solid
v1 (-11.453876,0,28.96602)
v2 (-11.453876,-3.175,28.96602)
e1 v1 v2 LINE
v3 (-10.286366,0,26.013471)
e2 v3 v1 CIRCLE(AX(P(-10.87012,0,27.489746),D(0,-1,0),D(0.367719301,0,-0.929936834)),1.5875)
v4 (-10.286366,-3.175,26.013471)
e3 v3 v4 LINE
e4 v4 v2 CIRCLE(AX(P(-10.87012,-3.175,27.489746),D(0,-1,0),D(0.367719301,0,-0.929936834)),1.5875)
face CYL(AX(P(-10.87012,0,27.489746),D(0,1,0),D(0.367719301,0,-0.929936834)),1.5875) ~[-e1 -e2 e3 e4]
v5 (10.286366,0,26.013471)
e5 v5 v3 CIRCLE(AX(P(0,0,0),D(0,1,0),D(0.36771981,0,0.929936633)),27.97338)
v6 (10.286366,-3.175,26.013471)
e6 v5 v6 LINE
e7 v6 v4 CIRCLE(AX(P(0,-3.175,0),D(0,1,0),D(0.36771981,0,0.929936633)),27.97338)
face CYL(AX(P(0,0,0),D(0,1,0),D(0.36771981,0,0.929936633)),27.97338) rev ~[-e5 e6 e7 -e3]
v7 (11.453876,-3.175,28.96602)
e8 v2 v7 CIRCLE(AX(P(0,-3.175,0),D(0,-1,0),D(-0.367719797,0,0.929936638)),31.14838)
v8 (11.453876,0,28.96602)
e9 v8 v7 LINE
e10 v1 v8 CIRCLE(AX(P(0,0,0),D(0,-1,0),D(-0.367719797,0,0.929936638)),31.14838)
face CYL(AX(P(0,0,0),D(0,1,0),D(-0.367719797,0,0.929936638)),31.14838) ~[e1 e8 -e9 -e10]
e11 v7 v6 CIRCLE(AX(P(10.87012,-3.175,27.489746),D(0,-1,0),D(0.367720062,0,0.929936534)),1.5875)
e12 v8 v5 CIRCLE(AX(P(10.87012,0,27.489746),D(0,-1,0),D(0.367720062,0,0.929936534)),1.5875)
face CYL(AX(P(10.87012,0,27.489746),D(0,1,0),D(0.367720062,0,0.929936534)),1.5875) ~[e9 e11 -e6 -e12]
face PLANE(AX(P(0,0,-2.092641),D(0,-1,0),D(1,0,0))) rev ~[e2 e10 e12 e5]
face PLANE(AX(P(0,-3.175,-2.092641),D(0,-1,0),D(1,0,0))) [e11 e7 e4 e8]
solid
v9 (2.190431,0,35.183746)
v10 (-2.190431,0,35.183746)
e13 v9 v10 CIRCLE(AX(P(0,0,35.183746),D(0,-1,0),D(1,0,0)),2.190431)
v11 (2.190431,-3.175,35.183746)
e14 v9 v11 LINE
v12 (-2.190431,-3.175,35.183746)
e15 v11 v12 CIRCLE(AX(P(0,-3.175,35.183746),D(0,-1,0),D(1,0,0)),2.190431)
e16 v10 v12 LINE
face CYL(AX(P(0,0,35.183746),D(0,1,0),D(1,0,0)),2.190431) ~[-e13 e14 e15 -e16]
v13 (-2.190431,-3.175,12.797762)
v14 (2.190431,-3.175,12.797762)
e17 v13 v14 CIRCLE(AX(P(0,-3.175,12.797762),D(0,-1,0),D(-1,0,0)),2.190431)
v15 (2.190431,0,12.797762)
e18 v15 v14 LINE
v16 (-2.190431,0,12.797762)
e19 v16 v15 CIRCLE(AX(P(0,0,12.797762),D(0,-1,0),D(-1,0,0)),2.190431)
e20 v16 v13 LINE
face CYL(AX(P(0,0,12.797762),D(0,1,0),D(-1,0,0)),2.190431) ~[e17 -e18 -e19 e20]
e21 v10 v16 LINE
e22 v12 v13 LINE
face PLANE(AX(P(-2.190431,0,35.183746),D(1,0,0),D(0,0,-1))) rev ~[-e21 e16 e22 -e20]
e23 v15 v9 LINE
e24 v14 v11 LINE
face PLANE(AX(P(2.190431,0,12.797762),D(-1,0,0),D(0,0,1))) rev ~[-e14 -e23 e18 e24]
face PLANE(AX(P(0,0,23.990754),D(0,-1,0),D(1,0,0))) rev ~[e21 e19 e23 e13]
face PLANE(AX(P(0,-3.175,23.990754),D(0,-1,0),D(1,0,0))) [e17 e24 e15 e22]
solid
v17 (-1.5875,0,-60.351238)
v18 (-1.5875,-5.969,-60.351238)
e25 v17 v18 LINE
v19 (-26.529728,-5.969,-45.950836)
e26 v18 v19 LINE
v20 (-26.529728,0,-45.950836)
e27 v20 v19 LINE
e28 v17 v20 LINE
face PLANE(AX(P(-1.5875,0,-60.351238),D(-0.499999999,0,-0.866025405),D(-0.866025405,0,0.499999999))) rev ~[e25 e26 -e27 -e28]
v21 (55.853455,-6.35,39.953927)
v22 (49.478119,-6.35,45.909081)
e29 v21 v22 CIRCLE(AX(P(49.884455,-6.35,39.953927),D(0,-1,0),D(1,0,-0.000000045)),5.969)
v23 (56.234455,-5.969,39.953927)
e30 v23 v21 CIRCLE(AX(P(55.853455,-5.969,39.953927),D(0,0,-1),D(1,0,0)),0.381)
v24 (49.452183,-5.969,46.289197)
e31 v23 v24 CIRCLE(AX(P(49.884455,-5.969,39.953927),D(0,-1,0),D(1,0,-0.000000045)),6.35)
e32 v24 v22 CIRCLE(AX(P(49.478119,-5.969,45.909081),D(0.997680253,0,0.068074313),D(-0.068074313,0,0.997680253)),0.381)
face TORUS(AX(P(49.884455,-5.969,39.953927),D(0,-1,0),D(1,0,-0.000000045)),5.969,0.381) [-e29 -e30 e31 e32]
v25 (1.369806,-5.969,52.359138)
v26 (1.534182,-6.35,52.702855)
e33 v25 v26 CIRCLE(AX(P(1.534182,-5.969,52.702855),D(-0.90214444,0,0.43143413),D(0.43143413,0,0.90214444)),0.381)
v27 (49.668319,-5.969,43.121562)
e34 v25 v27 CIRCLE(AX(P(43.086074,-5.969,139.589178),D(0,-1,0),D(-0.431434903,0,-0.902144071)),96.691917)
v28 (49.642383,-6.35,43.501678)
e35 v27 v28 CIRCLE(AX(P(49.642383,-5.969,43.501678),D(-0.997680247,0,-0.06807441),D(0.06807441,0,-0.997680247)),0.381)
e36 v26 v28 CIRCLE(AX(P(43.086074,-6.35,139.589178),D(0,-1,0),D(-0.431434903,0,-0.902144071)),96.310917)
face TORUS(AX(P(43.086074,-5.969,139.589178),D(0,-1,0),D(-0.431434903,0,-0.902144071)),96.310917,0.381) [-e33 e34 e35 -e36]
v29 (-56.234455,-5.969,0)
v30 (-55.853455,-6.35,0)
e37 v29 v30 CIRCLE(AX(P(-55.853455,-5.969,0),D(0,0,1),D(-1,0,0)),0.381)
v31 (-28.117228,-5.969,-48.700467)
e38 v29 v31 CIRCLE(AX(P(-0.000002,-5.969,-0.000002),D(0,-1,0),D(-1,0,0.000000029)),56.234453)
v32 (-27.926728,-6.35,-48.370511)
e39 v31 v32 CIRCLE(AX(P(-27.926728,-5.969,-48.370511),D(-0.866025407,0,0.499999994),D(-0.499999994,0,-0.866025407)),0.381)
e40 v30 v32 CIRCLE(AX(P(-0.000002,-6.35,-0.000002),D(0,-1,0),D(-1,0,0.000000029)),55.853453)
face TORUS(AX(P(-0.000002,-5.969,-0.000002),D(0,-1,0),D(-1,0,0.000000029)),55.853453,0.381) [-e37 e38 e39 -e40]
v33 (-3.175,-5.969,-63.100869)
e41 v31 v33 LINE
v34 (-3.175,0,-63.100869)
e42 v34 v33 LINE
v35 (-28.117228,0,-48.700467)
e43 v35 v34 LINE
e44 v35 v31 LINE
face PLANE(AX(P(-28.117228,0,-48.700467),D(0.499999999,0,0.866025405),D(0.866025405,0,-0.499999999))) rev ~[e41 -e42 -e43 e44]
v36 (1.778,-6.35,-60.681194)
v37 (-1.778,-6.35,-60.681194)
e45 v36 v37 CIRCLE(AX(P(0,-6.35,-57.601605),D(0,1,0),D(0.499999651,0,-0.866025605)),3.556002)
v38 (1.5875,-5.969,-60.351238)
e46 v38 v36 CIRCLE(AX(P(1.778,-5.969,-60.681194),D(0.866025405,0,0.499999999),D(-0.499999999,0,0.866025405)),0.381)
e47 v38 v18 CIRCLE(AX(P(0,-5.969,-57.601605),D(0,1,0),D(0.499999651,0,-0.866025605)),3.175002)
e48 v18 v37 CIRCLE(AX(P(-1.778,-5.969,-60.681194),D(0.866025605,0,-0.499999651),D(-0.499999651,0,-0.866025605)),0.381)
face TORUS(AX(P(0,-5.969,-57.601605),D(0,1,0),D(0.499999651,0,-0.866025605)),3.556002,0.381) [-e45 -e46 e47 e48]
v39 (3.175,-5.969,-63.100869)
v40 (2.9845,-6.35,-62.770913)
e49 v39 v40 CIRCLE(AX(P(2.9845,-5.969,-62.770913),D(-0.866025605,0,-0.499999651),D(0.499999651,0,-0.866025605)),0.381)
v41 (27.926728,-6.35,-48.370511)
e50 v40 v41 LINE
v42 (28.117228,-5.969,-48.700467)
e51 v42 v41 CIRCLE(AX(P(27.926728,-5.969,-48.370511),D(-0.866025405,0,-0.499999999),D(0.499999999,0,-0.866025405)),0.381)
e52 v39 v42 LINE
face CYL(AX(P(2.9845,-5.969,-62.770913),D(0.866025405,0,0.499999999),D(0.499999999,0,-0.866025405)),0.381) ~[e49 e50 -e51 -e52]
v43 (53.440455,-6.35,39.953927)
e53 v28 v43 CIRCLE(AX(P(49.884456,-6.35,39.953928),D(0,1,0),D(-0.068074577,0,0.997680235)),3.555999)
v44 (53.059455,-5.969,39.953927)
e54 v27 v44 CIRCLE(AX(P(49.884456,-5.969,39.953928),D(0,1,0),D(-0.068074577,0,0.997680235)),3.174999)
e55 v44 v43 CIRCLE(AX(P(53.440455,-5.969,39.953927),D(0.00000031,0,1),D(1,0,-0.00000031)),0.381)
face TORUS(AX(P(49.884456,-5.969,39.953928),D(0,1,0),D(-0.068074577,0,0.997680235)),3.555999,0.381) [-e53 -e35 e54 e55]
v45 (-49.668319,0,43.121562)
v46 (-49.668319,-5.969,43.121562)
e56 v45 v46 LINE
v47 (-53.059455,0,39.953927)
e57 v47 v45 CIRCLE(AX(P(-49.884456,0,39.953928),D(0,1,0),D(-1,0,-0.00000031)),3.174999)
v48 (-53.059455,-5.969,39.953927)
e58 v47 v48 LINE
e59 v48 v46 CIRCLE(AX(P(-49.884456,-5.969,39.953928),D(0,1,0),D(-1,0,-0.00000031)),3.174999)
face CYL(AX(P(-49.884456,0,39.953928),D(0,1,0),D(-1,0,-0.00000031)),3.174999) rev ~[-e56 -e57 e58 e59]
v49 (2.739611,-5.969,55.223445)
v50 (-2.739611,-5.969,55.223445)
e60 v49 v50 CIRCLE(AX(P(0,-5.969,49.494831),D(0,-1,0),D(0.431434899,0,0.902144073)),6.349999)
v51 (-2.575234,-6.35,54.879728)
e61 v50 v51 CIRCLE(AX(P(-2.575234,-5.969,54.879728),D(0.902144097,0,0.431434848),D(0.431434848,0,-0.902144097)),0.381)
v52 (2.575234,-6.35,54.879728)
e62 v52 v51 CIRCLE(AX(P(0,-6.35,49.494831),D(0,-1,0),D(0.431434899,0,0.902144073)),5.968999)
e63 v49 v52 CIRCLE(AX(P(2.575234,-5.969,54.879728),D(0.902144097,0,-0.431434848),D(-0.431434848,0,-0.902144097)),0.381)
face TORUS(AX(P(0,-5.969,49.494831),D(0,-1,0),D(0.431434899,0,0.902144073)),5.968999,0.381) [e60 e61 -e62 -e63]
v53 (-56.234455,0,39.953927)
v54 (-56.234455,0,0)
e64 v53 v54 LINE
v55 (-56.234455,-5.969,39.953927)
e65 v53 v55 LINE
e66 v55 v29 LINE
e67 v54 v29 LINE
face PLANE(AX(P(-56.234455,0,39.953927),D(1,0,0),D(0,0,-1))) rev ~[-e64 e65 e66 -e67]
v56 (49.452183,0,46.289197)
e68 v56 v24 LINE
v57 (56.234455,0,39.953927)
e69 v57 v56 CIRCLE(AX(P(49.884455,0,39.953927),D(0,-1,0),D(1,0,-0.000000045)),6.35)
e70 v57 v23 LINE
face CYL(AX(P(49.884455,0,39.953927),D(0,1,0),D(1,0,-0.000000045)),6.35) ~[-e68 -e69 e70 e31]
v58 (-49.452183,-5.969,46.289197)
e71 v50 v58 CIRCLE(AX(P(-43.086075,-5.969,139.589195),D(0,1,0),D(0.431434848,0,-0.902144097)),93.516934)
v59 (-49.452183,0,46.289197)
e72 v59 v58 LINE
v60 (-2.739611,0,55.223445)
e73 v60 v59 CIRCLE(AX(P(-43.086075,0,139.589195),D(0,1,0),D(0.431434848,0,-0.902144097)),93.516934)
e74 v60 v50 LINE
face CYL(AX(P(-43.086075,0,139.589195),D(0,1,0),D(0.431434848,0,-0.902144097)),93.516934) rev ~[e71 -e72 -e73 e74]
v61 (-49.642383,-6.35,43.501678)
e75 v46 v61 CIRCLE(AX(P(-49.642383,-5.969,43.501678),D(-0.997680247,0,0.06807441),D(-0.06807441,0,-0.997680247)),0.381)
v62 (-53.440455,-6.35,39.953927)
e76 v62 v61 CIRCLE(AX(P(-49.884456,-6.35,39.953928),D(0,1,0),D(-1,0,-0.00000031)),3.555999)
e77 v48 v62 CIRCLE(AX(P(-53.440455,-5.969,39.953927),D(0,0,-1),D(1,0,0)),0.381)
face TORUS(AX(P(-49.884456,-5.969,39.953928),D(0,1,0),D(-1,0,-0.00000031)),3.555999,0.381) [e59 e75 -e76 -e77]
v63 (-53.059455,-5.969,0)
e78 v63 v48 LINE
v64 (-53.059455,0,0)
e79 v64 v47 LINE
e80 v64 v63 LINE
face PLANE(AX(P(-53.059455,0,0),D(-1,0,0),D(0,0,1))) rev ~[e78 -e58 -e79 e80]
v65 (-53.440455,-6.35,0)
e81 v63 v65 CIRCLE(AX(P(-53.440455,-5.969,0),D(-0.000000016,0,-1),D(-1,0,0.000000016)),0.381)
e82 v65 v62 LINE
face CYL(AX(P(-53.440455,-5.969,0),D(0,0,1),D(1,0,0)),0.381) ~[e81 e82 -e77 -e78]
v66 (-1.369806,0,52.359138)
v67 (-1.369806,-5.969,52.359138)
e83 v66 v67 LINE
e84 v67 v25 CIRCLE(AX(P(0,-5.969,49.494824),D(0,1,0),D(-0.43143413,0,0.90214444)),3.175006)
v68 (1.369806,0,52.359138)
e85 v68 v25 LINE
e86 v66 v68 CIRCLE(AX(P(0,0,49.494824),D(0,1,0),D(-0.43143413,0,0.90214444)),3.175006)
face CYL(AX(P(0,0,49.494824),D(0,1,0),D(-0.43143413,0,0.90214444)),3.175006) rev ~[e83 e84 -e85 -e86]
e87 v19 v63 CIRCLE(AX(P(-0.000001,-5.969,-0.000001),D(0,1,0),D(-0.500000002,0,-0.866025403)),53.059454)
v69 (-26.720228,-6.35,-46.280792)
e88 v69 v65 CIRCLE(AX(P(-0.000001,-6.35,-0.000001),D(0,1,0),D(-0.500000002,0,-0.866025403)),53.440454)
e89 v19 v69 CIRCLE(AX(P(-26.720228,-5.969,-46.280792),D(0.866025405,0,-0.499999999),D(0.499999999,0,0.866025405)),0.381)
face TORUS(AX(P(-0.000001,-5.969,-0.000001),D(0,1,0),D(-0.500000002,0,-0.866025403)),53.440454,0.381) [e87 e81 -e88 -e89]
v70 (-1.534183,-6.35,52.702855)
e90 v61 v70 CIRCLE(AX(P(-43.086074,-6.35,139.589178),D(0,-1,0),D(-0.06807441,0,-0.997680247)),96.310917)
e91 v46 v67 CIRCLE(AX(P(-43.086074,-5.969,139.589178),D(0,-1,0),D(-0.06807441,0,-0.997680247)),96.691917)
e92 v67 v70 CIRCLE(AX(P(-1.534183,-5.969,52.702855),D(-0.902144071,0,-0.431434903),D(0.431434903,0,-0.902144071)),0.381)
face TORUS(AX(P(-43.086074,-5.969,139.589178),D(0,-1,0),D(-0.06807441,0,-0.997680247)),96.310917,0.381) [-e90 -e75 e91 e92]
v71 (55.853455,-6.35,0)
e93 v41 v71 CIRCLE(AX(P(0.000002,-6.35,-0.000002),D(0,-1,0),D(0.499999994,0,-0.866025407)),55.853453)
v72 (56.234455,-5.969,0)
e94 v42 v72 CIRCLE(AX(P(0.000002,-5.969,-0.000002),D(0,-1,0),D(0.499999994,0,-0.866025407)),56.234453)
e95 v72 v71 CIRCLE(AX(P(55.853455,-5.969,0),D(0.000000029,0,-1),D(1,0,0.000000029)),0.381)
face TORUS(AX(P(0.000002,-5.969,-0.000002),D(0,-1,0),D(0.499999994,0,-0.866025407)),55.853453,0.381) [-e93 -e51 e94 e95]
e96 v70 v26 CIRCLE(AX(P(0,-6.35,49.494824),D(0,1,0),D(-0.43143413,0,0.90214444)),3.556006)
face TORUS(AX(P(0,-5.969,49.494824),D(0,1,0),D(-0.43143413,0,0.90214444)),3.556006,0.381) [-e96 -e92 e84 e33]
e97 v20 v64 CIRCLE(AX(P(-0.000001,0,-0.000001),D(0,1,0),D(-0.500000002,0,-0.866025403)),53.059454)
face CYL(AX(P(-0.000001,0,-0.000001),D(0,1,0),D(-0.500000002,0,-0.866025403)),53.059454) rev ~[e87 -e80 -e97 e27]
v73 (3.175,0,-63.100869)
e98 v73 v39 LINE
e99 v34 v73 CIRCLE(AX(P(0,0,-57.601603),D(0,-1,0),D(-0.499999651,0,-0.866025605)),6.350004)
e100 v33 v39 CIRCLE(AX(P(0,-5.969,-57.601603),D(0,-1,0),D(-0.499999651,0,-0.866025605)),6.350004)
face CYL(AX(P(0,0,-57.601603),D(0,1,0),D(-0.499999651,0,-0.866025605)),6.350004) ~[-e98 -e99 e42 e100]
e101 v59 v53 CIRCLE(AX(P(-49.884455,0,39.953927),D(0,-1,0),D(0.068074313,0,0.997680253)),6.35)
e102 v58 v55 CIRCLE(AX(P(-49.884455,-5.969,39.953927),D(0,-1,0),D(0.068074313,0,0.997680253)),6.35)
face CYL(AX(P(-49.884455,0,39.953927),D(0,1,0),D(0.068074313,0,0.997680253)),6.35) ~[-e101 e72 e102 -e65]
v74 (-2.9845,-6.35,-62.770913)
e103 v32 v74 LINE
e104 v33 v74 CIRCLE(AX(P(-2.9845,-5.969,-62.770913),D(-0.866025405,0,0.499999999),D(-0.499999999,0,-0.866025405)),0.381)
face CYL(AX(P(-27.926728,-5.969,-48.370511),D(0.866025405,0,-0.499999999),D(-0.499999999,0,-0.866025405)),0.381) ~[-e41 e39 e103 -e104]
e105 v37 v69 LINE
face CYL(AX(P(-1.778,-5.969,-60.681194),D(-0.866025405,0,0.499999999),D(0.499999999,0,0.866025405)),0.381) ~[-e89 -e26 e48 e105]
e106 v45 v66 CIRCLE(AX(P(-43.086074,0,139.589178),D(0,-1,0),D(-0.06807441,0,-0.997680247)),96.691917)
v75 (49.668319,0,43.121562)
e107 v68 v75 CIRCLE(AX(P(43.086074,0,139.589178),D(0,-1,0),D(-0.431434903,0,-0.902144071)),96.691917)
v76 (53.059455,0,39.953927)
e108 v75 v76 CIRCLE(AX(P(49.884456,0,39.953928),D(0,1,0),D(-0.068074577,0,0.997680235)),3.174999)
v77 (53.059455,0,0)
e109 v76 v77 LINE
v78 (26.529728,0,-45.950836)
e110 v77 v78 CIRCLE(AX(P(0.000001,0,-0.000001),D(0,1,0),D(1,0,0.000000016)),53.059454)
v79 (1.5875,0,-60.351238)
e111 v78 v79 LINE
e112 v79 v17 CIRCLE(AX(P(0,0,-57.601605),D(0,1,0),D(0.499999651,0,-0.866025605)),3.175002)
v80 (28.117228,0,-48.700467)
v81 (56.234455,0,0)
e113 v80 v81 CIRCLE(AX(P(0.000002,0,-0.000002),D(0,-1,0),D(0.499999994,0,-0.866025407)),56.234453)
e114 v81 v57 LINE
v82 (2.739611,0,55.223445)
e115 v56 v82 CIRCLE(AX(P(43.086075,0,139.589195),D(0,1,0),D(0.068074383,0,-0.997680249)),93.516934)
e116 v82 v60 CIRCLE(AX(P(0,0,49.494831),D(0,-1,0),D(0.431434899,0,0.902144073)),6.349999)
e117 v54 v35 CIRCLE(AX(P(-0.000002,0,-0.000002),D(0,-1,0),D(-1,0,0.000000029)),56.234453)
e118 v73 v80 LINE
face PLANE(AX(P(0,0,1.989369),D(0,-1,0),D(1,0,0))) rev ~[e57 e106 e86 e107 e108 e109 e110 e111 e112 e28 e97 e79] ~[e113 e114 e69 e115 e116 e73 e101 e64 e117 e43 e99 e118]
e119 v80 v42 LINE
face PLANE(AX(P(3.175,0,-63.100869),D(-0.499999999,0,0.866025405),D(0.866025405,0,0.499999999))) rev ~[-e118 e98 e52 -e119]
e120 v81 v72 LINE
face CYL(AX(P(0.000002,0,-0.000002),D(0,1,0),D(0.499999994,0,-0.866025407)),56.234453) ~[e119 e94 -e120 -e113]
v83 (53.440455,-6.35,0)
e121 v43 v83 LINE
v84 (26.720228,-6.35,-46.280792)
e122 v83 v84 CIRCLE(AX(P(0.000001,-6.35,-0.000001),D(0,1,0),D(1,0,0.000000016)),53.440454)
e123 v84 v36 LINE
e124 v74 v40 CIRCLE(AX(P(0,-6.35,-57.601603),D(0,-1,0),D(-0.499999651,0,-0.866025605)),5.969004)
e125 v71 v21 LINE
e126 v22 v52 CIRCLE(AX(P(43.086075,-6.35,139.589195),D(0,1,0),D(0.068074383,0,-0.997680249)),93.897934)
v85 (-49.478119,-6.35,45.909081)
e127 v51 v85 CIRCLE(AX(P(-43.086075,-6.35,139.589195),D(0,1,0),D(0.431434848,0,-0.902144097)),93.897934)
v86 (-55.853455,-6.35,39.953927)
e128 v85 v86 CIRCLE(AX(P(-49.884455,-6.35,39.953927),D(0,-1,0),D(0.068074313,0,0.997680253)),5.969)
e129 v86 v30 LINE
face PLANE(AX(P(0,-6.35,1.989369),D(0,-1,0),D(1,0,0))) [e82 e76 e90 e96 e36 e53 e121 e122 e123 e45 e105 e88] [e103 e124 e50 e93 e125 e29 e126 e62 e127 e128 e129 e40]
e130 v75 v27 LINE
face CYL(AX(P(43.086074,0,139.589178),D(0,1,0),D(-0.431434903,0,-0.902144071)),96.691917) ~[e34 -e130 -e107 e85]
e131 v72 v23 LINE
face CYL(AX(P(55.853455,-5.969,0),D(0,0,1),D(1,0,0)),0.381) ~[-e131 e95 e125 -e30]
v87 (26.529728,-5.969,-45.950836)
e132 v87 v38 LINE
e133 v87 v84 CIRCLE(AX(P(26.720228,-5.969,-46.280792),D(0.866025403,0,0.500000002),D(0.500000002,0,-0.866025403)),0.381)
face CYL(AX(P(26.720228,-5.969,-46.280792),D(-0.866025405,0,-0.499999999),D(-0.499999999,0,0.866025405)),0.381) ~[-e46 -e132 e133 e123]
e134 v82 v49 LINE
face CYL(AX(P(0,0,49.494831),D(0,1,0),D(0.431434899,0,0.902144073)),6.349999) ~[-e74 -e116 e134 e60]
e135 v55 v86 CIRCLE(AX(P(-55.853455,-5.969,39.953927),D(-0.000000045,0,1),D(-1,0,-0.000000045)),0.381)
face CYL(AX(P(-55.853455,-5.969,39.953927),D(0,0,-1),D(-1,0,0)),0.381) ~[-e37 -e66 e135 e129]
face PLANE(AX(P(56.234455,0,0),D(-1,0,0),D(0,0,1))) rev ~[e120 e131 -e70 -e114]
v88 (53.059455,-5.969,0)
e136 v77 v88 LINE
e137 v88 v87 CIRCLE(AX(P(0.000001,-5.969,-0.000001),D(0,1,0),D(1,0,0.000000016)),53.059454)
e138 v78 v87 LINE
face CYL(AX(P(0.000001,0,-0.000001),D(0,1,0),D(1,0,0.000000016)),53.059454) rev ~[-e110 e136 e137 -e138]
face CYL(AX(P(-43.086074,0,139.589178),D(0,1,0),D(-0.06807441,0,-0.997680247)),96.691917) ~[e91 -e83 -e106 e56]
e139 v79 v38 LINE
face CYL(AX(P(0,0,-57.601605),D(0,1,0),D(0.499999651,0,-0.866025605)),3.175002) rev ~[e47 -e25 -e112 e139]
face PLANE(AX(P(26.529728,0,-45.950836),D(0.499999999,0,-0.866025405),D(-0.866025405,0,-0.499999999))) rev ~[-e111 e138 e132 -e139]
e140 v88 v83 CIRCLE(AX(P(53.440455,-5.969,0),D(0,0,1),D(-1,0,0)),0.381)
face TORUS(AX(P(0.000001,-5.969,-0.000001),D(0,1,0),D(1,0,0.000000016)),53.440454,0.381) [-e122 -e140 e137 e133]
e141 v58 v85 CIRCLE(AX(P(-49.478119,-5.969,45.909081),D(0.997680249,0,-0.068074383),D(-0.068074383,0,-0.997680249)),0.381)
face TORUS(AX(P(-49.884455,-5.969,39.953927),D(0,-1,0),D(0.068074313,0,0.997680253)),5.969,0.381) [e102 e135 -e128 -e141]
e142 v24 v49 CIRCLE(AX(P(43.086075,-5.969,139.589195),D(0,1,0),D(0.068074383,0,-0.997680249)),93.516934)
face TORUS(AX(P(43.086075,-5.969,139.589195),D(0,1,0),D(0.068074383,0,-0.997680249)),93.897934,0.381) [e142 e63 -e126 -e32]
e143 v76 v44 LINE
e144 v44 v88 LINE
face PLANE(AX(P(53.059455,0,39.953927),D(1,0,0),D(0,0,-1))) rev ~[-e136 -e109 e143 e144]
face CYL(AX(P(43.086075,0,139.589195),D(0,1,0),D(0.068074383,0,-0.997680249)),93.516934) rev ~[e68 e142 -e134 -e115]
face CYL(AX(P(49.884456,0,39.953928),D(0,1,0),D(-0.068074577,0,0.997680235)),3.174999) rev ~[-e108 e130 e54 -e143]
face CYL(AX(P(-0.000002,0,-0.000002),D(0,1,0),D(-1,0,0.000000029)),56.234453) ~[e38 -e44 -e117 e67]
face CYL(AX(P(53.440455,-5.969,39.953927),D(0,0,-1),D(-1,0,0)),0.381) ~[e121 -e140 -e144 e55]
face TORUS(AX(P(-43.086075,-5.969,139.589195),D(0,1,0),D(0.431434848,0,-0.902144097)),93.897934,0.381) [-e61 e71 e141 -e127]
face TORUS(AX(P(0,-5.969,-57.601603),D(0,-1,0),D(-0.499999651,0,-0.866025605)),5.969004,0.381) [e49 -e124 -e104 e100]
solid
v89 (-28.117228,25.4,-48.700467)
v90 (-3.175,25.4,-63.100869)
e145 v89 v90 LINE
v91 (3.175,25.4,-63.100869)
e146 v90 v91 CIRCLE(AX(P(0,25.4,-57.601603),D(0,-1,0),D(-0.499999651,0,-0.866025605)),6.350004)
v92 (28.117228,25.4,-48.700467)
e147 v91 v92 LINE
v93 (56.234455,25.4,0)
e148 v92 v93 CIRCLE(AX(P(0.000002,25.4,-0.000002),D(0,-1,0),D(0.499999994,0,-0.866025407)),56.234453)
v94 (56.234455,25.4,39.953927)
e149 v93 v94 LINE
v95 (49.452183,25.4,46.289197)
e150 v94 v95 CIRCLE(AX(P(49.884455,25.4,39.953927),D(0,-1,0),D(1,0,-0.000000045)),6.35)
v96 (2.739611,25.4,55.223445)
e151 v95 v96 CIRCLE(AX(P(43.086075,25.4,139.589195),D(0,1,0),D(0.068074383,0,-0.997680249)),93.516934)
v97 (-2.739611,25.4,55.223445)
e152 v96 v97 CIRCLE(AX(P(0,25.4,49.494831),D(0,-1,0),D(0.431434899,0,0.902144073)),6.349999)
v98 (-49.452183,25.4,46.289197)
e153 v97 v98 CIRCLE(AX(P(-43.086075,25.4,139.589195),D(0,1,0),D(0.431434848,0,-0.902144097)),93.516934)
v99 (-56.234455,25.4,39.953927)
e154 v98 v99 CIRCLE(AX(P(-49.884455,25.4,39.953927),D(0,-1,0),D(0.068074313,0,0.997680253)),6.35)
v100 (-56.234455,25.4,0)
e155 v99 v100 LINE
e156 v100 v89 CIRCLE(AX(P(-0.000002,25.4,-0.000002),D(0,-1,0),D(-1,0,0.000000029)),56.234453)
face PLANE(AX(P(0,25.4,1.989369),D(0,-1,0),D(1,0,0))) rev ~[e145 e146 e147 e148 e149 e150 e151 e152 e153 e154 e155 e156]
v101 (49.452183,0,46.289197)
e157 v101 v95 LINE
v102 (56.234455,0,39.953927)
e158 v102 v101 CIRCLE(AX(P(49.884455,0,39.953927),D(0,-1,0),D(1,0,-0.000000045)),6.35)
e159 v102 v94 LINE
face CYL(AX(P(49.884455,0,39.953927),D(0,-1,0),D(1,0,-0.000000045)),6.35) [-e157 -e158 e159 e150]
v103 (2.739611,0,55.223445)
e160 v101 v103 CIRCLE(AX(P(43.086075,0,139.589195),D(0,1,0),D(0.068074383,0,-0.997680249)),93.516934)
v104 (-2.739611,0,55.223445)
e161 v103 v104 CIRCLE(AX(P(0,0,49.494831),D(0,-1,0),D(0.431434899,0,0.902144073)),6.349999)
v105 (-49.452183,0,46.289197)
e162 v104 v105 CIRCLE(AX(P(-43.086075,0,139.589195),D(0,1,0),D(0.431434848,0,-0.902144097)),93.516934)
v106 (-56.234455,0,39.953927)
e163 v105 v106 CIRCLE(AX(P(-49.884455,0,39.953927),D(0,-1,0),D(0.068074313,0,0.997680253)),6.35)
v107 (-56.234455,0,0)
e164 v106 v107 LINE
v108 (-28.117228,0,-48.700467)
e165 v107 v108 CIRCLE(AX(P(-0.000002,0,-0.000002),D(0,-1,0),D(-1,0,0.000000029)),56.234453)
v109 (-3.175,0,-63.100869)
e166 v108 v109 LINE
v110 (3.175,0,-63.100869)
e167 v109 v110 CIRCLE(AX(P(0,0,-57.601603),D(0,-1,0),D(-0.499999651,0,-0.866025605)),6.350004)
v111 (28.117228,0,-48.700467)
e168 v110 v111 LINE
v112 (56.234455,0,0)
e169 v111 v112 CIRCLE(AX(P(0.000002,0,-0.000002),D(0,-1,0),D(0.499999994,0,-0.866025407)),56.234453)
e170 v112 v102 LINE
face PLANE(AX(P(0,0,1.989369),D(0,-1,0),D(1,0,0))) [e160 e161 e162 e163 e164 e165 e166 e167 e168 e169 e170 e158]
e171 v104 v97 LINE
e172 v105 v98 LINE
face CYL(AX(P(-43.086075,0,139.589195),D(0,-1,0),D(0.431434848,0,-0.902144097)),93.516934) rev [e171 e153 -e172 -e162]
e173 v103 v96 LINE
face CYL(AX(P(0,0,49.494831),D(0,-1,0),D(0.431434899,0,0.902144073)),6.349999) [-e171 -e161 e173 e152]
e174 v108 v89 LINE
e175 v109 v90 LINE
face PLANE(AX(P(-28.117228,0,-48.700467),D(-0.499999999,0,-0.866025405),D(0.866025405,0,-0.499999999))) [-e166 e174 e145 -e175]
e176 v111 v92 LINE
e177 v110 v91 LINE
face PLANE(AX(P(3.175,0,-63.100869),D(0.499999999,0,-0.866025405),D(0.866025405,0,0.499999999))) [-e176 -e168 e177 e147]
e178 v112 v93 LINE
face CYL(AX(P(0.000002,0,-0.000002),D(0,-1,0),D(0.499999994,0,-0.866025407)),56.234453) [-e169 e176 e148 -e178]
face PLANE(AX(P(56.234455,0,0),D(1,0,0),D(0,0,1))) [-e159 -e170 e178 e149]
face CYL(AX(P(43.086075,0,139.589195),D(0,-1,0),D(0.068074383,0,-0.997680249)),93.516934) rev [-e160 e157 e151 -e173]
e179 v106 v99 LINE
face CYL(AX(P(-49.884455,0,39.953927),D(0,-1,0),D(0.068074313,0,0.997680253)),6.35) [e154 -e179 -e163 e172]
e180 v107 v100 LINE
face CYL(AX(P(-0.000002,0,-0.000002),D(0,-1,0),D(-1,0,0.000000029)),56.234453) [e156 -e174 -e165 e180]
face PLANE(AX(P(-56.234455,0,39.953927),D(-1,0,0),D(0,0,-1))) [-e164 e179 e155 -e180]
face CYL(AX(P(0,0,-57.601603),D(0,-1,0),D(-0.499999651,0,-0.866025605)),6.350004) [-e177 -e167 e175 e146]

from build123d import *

# Parameters (mm, degrees)
F1_DEPTH = 25.4
F3_DEPTH = 6.35
F5_DEPTH = 3.175
F6_R     = 0.381


with BuildPart() as f1:
    # F0 (on Front) → F1 (new body)
    with BuildSketch(Plane.XZ):
        with BuildLine():
            ThreePointArc((-49.452183, 46.289197), (-54.219059, 44.59437), (-56.234455, 39.953927))
            Line((-56.234455, 39.953927), (-56.234455, 0))
            ThreePointArc((-56.234455, 0), (-48.700467, -28.117228), (-28.117228, -48.700467))
            Line((-28.117228, -48.700467), (-3.175, -63.100869))
            ThreePointArc((-3.175, -63.100869), (0, -63.951607), (3.175, -63.100869))
            Line((3.175, -63.100869), (28.117228, -48.700467))
            ThreePointArc((28.117228, -48.700467), (48.700467, -28.117228), (56.234455, 0))
            Line((56.234455, 0), (56.234455, 39.953927))
            ThreePointArc((56.234455, 39.953927), (54.219059, 44.59437), (49.452183, 46.289197))
            ThreePointArc((49.452183, 46.289197), (25.518453, 47.737164), (2.739611, 55.223445))
            ThreePointArc((2.739611, 55.223445), (0, 55.84483), (-2.739611, 55.223445))
            ThreePointArc((-2.739611, 55.223445), (-25.518453, 47.737164), (-49.452183, 46.289197))
        make_face()
    extrude(amount=-F1_DEPTH)


with BuildPart() as f3:
    # F2 (on face) → F3 (new body)
    with BuildSketch(Plane.XZ):
        with BuildLine():
            ThreePointArc((-2.739611, 55.223445), (-25.518453, 47.737164), (-49.452183, 46.289197))
            ThreePointArc((-49.452183, 46.289197), (-54.219059, 44.59437), (-56.234455, 39.953927))
            Line((-56.234455, 39.953927), (-56.234455, 0))
            ThreePointArc((-56.234455, 0), (-48.700467, -28.117228), (-28.117228, -48.700467))
            Line((-28.117228, -48.700467), (-3.175, -63.100869))
            ThreePointArc((-3.175, -63.100869), (0, -63.951607), (3.175, -63.100869))
            Line((3.175, -63.100869), (28.117228, -48.700467))
            ThreePointArc((28.117228, -48.700467), (48.700467, -28.117228), (56.234455, 0))
            Line((56.234455, 0), (56.234455, 39.953927))
            ThreePointArc((56.234455, 39.953927), (54.219059, 44.59437), (49.452183, 46.289197))
            ThreePointArc((49.452183, 46.289197), (25.518453, 47.737164), (2.739611, 55.223445))
            ThreePointArc((2.739611, 55.223445), (0, 55.84483), (-2.739611, 55.223445))
        make_face()
        with BuildLine():
            ThreePointArc((-53.059455, 39.953927), (-52.051757, 42.274149), (-49.668319, 43.121562))
            ThreePointArc((-49.668319, 43.121562), (-24.922013, 44.618689), (-1.369806, 52.359138))
            ThreePointArc((-1.369806, 52.359138), (0, 52.66983), (1.369806, 52.359138))
            ThreePointArc((1.369806, 52.359138), (24.922013, 44.618689), (49.668319, 43.121562))
            ThreePointArc((49.668319, 43.121562), (52.051757, 42.274149), (53.059455, 39.953927))
            Line((53.059455, 39.953927), (53.059455, 0))
            ThreePointArc((53.059455, 0), (45.950836, -26.529728), (26.529728, -45.950836))
            Line((26.529728, -45.950836), (1.5875, -60.351238))
            ThreePointArc((1.5875, -60.351238), (0, -60.776607), (-1.5875, -60.351238))
            Line((-1.5875, -60.351238), (-26.529728, -45.950836))
            ThreePointArc((-26.529728, -45.950836), (-45.950836, -26.529728), (-53.059455, 0))
            Line((-53.059455, 0), (-53.059455, 39.953927))
        make_face(mode=Mode.SUBTRACT)
    extrude(amount=F3_DEPTH)

    # F6
    f6_edges = [f3.edges().sort_by_distance(p)[0] for p in [
        (-25.518453, -6.35, 47.737164),
        (-54.219059, -6.35, 44.59437),
        (-56.234455, -6.35, 19.976963),
        (-24.922013, -6.35, 44.618689),
    ]]
    fillet(f6_edges, radius=F6_R)


with BuildPart() as f5:
    # F4 (on face) → F5 (new body)
    with BuildSketch(Plane.XZ):
        with BuildLine():
            ThreePointArc((10.286366, 26.013471), (0, -27.97338), (-10.286366, 26.013471))
            Line((-10.286366, 26.013471), (-11.453876, 28.96602))
            ThreePointArc((-11.453876, 28.96602), (0, -31.14838), (11.453876, 28.96602))
            Line((11.453876, 28.96602), (10.286366, 26.013471))
        make_face()
        with BuildLine():
            Line((-11.453876, 28.96602), (-10.286366, 26.013471))
            ThreePointArc((-10.286366, 26.013471), (-9.393846, 28.073501), (-11.453876, 28.96602))
        make_face()
        with BuildLine():
            ThreePointArc((2.190431, 35.183746), (0, 32.993316), (-2.190431, 35.183746))
            Line((-2.190431, 35.183746), (-2.190431, 12.797762))
            ThreePointArc((-2.190431, 12.797762), (0, 14.988192), (2.190431, 12.797762))
            Line((2.190431, 12.797762), (2.190431, 35.183746))
        make_face()
        with BuildLine():
            ThreePointArc((2.190431, 35.183746), (0, 37.374177), (-2.190431, 35.183746))
            ThreePointArc((-2.190431, 35.183746), (0, 32.993316), (2.190431, 35.183746))
        make_face()
        with BuildLine():
            ThreePointArc((11.453876, 28.96602), (9.393846, 28.073501), (10.286366, 26.013471))
            Line((10.286366, 26.013471), (11.453876, 28.96602))
        make_face()
        with BuildLine():
            ThreePointArc((2.190431, 12.797762), (0, 14.988192), (-2.190431, 12.797762))
            ThreePointArc((-2.190431, 12.797762), (0, 10.607331), (2.190431, 12.797762))
        make_face()
    extrude(amount=F5_DEPTH)


solid = Compound([f1.part, f3.part, f5.part])
